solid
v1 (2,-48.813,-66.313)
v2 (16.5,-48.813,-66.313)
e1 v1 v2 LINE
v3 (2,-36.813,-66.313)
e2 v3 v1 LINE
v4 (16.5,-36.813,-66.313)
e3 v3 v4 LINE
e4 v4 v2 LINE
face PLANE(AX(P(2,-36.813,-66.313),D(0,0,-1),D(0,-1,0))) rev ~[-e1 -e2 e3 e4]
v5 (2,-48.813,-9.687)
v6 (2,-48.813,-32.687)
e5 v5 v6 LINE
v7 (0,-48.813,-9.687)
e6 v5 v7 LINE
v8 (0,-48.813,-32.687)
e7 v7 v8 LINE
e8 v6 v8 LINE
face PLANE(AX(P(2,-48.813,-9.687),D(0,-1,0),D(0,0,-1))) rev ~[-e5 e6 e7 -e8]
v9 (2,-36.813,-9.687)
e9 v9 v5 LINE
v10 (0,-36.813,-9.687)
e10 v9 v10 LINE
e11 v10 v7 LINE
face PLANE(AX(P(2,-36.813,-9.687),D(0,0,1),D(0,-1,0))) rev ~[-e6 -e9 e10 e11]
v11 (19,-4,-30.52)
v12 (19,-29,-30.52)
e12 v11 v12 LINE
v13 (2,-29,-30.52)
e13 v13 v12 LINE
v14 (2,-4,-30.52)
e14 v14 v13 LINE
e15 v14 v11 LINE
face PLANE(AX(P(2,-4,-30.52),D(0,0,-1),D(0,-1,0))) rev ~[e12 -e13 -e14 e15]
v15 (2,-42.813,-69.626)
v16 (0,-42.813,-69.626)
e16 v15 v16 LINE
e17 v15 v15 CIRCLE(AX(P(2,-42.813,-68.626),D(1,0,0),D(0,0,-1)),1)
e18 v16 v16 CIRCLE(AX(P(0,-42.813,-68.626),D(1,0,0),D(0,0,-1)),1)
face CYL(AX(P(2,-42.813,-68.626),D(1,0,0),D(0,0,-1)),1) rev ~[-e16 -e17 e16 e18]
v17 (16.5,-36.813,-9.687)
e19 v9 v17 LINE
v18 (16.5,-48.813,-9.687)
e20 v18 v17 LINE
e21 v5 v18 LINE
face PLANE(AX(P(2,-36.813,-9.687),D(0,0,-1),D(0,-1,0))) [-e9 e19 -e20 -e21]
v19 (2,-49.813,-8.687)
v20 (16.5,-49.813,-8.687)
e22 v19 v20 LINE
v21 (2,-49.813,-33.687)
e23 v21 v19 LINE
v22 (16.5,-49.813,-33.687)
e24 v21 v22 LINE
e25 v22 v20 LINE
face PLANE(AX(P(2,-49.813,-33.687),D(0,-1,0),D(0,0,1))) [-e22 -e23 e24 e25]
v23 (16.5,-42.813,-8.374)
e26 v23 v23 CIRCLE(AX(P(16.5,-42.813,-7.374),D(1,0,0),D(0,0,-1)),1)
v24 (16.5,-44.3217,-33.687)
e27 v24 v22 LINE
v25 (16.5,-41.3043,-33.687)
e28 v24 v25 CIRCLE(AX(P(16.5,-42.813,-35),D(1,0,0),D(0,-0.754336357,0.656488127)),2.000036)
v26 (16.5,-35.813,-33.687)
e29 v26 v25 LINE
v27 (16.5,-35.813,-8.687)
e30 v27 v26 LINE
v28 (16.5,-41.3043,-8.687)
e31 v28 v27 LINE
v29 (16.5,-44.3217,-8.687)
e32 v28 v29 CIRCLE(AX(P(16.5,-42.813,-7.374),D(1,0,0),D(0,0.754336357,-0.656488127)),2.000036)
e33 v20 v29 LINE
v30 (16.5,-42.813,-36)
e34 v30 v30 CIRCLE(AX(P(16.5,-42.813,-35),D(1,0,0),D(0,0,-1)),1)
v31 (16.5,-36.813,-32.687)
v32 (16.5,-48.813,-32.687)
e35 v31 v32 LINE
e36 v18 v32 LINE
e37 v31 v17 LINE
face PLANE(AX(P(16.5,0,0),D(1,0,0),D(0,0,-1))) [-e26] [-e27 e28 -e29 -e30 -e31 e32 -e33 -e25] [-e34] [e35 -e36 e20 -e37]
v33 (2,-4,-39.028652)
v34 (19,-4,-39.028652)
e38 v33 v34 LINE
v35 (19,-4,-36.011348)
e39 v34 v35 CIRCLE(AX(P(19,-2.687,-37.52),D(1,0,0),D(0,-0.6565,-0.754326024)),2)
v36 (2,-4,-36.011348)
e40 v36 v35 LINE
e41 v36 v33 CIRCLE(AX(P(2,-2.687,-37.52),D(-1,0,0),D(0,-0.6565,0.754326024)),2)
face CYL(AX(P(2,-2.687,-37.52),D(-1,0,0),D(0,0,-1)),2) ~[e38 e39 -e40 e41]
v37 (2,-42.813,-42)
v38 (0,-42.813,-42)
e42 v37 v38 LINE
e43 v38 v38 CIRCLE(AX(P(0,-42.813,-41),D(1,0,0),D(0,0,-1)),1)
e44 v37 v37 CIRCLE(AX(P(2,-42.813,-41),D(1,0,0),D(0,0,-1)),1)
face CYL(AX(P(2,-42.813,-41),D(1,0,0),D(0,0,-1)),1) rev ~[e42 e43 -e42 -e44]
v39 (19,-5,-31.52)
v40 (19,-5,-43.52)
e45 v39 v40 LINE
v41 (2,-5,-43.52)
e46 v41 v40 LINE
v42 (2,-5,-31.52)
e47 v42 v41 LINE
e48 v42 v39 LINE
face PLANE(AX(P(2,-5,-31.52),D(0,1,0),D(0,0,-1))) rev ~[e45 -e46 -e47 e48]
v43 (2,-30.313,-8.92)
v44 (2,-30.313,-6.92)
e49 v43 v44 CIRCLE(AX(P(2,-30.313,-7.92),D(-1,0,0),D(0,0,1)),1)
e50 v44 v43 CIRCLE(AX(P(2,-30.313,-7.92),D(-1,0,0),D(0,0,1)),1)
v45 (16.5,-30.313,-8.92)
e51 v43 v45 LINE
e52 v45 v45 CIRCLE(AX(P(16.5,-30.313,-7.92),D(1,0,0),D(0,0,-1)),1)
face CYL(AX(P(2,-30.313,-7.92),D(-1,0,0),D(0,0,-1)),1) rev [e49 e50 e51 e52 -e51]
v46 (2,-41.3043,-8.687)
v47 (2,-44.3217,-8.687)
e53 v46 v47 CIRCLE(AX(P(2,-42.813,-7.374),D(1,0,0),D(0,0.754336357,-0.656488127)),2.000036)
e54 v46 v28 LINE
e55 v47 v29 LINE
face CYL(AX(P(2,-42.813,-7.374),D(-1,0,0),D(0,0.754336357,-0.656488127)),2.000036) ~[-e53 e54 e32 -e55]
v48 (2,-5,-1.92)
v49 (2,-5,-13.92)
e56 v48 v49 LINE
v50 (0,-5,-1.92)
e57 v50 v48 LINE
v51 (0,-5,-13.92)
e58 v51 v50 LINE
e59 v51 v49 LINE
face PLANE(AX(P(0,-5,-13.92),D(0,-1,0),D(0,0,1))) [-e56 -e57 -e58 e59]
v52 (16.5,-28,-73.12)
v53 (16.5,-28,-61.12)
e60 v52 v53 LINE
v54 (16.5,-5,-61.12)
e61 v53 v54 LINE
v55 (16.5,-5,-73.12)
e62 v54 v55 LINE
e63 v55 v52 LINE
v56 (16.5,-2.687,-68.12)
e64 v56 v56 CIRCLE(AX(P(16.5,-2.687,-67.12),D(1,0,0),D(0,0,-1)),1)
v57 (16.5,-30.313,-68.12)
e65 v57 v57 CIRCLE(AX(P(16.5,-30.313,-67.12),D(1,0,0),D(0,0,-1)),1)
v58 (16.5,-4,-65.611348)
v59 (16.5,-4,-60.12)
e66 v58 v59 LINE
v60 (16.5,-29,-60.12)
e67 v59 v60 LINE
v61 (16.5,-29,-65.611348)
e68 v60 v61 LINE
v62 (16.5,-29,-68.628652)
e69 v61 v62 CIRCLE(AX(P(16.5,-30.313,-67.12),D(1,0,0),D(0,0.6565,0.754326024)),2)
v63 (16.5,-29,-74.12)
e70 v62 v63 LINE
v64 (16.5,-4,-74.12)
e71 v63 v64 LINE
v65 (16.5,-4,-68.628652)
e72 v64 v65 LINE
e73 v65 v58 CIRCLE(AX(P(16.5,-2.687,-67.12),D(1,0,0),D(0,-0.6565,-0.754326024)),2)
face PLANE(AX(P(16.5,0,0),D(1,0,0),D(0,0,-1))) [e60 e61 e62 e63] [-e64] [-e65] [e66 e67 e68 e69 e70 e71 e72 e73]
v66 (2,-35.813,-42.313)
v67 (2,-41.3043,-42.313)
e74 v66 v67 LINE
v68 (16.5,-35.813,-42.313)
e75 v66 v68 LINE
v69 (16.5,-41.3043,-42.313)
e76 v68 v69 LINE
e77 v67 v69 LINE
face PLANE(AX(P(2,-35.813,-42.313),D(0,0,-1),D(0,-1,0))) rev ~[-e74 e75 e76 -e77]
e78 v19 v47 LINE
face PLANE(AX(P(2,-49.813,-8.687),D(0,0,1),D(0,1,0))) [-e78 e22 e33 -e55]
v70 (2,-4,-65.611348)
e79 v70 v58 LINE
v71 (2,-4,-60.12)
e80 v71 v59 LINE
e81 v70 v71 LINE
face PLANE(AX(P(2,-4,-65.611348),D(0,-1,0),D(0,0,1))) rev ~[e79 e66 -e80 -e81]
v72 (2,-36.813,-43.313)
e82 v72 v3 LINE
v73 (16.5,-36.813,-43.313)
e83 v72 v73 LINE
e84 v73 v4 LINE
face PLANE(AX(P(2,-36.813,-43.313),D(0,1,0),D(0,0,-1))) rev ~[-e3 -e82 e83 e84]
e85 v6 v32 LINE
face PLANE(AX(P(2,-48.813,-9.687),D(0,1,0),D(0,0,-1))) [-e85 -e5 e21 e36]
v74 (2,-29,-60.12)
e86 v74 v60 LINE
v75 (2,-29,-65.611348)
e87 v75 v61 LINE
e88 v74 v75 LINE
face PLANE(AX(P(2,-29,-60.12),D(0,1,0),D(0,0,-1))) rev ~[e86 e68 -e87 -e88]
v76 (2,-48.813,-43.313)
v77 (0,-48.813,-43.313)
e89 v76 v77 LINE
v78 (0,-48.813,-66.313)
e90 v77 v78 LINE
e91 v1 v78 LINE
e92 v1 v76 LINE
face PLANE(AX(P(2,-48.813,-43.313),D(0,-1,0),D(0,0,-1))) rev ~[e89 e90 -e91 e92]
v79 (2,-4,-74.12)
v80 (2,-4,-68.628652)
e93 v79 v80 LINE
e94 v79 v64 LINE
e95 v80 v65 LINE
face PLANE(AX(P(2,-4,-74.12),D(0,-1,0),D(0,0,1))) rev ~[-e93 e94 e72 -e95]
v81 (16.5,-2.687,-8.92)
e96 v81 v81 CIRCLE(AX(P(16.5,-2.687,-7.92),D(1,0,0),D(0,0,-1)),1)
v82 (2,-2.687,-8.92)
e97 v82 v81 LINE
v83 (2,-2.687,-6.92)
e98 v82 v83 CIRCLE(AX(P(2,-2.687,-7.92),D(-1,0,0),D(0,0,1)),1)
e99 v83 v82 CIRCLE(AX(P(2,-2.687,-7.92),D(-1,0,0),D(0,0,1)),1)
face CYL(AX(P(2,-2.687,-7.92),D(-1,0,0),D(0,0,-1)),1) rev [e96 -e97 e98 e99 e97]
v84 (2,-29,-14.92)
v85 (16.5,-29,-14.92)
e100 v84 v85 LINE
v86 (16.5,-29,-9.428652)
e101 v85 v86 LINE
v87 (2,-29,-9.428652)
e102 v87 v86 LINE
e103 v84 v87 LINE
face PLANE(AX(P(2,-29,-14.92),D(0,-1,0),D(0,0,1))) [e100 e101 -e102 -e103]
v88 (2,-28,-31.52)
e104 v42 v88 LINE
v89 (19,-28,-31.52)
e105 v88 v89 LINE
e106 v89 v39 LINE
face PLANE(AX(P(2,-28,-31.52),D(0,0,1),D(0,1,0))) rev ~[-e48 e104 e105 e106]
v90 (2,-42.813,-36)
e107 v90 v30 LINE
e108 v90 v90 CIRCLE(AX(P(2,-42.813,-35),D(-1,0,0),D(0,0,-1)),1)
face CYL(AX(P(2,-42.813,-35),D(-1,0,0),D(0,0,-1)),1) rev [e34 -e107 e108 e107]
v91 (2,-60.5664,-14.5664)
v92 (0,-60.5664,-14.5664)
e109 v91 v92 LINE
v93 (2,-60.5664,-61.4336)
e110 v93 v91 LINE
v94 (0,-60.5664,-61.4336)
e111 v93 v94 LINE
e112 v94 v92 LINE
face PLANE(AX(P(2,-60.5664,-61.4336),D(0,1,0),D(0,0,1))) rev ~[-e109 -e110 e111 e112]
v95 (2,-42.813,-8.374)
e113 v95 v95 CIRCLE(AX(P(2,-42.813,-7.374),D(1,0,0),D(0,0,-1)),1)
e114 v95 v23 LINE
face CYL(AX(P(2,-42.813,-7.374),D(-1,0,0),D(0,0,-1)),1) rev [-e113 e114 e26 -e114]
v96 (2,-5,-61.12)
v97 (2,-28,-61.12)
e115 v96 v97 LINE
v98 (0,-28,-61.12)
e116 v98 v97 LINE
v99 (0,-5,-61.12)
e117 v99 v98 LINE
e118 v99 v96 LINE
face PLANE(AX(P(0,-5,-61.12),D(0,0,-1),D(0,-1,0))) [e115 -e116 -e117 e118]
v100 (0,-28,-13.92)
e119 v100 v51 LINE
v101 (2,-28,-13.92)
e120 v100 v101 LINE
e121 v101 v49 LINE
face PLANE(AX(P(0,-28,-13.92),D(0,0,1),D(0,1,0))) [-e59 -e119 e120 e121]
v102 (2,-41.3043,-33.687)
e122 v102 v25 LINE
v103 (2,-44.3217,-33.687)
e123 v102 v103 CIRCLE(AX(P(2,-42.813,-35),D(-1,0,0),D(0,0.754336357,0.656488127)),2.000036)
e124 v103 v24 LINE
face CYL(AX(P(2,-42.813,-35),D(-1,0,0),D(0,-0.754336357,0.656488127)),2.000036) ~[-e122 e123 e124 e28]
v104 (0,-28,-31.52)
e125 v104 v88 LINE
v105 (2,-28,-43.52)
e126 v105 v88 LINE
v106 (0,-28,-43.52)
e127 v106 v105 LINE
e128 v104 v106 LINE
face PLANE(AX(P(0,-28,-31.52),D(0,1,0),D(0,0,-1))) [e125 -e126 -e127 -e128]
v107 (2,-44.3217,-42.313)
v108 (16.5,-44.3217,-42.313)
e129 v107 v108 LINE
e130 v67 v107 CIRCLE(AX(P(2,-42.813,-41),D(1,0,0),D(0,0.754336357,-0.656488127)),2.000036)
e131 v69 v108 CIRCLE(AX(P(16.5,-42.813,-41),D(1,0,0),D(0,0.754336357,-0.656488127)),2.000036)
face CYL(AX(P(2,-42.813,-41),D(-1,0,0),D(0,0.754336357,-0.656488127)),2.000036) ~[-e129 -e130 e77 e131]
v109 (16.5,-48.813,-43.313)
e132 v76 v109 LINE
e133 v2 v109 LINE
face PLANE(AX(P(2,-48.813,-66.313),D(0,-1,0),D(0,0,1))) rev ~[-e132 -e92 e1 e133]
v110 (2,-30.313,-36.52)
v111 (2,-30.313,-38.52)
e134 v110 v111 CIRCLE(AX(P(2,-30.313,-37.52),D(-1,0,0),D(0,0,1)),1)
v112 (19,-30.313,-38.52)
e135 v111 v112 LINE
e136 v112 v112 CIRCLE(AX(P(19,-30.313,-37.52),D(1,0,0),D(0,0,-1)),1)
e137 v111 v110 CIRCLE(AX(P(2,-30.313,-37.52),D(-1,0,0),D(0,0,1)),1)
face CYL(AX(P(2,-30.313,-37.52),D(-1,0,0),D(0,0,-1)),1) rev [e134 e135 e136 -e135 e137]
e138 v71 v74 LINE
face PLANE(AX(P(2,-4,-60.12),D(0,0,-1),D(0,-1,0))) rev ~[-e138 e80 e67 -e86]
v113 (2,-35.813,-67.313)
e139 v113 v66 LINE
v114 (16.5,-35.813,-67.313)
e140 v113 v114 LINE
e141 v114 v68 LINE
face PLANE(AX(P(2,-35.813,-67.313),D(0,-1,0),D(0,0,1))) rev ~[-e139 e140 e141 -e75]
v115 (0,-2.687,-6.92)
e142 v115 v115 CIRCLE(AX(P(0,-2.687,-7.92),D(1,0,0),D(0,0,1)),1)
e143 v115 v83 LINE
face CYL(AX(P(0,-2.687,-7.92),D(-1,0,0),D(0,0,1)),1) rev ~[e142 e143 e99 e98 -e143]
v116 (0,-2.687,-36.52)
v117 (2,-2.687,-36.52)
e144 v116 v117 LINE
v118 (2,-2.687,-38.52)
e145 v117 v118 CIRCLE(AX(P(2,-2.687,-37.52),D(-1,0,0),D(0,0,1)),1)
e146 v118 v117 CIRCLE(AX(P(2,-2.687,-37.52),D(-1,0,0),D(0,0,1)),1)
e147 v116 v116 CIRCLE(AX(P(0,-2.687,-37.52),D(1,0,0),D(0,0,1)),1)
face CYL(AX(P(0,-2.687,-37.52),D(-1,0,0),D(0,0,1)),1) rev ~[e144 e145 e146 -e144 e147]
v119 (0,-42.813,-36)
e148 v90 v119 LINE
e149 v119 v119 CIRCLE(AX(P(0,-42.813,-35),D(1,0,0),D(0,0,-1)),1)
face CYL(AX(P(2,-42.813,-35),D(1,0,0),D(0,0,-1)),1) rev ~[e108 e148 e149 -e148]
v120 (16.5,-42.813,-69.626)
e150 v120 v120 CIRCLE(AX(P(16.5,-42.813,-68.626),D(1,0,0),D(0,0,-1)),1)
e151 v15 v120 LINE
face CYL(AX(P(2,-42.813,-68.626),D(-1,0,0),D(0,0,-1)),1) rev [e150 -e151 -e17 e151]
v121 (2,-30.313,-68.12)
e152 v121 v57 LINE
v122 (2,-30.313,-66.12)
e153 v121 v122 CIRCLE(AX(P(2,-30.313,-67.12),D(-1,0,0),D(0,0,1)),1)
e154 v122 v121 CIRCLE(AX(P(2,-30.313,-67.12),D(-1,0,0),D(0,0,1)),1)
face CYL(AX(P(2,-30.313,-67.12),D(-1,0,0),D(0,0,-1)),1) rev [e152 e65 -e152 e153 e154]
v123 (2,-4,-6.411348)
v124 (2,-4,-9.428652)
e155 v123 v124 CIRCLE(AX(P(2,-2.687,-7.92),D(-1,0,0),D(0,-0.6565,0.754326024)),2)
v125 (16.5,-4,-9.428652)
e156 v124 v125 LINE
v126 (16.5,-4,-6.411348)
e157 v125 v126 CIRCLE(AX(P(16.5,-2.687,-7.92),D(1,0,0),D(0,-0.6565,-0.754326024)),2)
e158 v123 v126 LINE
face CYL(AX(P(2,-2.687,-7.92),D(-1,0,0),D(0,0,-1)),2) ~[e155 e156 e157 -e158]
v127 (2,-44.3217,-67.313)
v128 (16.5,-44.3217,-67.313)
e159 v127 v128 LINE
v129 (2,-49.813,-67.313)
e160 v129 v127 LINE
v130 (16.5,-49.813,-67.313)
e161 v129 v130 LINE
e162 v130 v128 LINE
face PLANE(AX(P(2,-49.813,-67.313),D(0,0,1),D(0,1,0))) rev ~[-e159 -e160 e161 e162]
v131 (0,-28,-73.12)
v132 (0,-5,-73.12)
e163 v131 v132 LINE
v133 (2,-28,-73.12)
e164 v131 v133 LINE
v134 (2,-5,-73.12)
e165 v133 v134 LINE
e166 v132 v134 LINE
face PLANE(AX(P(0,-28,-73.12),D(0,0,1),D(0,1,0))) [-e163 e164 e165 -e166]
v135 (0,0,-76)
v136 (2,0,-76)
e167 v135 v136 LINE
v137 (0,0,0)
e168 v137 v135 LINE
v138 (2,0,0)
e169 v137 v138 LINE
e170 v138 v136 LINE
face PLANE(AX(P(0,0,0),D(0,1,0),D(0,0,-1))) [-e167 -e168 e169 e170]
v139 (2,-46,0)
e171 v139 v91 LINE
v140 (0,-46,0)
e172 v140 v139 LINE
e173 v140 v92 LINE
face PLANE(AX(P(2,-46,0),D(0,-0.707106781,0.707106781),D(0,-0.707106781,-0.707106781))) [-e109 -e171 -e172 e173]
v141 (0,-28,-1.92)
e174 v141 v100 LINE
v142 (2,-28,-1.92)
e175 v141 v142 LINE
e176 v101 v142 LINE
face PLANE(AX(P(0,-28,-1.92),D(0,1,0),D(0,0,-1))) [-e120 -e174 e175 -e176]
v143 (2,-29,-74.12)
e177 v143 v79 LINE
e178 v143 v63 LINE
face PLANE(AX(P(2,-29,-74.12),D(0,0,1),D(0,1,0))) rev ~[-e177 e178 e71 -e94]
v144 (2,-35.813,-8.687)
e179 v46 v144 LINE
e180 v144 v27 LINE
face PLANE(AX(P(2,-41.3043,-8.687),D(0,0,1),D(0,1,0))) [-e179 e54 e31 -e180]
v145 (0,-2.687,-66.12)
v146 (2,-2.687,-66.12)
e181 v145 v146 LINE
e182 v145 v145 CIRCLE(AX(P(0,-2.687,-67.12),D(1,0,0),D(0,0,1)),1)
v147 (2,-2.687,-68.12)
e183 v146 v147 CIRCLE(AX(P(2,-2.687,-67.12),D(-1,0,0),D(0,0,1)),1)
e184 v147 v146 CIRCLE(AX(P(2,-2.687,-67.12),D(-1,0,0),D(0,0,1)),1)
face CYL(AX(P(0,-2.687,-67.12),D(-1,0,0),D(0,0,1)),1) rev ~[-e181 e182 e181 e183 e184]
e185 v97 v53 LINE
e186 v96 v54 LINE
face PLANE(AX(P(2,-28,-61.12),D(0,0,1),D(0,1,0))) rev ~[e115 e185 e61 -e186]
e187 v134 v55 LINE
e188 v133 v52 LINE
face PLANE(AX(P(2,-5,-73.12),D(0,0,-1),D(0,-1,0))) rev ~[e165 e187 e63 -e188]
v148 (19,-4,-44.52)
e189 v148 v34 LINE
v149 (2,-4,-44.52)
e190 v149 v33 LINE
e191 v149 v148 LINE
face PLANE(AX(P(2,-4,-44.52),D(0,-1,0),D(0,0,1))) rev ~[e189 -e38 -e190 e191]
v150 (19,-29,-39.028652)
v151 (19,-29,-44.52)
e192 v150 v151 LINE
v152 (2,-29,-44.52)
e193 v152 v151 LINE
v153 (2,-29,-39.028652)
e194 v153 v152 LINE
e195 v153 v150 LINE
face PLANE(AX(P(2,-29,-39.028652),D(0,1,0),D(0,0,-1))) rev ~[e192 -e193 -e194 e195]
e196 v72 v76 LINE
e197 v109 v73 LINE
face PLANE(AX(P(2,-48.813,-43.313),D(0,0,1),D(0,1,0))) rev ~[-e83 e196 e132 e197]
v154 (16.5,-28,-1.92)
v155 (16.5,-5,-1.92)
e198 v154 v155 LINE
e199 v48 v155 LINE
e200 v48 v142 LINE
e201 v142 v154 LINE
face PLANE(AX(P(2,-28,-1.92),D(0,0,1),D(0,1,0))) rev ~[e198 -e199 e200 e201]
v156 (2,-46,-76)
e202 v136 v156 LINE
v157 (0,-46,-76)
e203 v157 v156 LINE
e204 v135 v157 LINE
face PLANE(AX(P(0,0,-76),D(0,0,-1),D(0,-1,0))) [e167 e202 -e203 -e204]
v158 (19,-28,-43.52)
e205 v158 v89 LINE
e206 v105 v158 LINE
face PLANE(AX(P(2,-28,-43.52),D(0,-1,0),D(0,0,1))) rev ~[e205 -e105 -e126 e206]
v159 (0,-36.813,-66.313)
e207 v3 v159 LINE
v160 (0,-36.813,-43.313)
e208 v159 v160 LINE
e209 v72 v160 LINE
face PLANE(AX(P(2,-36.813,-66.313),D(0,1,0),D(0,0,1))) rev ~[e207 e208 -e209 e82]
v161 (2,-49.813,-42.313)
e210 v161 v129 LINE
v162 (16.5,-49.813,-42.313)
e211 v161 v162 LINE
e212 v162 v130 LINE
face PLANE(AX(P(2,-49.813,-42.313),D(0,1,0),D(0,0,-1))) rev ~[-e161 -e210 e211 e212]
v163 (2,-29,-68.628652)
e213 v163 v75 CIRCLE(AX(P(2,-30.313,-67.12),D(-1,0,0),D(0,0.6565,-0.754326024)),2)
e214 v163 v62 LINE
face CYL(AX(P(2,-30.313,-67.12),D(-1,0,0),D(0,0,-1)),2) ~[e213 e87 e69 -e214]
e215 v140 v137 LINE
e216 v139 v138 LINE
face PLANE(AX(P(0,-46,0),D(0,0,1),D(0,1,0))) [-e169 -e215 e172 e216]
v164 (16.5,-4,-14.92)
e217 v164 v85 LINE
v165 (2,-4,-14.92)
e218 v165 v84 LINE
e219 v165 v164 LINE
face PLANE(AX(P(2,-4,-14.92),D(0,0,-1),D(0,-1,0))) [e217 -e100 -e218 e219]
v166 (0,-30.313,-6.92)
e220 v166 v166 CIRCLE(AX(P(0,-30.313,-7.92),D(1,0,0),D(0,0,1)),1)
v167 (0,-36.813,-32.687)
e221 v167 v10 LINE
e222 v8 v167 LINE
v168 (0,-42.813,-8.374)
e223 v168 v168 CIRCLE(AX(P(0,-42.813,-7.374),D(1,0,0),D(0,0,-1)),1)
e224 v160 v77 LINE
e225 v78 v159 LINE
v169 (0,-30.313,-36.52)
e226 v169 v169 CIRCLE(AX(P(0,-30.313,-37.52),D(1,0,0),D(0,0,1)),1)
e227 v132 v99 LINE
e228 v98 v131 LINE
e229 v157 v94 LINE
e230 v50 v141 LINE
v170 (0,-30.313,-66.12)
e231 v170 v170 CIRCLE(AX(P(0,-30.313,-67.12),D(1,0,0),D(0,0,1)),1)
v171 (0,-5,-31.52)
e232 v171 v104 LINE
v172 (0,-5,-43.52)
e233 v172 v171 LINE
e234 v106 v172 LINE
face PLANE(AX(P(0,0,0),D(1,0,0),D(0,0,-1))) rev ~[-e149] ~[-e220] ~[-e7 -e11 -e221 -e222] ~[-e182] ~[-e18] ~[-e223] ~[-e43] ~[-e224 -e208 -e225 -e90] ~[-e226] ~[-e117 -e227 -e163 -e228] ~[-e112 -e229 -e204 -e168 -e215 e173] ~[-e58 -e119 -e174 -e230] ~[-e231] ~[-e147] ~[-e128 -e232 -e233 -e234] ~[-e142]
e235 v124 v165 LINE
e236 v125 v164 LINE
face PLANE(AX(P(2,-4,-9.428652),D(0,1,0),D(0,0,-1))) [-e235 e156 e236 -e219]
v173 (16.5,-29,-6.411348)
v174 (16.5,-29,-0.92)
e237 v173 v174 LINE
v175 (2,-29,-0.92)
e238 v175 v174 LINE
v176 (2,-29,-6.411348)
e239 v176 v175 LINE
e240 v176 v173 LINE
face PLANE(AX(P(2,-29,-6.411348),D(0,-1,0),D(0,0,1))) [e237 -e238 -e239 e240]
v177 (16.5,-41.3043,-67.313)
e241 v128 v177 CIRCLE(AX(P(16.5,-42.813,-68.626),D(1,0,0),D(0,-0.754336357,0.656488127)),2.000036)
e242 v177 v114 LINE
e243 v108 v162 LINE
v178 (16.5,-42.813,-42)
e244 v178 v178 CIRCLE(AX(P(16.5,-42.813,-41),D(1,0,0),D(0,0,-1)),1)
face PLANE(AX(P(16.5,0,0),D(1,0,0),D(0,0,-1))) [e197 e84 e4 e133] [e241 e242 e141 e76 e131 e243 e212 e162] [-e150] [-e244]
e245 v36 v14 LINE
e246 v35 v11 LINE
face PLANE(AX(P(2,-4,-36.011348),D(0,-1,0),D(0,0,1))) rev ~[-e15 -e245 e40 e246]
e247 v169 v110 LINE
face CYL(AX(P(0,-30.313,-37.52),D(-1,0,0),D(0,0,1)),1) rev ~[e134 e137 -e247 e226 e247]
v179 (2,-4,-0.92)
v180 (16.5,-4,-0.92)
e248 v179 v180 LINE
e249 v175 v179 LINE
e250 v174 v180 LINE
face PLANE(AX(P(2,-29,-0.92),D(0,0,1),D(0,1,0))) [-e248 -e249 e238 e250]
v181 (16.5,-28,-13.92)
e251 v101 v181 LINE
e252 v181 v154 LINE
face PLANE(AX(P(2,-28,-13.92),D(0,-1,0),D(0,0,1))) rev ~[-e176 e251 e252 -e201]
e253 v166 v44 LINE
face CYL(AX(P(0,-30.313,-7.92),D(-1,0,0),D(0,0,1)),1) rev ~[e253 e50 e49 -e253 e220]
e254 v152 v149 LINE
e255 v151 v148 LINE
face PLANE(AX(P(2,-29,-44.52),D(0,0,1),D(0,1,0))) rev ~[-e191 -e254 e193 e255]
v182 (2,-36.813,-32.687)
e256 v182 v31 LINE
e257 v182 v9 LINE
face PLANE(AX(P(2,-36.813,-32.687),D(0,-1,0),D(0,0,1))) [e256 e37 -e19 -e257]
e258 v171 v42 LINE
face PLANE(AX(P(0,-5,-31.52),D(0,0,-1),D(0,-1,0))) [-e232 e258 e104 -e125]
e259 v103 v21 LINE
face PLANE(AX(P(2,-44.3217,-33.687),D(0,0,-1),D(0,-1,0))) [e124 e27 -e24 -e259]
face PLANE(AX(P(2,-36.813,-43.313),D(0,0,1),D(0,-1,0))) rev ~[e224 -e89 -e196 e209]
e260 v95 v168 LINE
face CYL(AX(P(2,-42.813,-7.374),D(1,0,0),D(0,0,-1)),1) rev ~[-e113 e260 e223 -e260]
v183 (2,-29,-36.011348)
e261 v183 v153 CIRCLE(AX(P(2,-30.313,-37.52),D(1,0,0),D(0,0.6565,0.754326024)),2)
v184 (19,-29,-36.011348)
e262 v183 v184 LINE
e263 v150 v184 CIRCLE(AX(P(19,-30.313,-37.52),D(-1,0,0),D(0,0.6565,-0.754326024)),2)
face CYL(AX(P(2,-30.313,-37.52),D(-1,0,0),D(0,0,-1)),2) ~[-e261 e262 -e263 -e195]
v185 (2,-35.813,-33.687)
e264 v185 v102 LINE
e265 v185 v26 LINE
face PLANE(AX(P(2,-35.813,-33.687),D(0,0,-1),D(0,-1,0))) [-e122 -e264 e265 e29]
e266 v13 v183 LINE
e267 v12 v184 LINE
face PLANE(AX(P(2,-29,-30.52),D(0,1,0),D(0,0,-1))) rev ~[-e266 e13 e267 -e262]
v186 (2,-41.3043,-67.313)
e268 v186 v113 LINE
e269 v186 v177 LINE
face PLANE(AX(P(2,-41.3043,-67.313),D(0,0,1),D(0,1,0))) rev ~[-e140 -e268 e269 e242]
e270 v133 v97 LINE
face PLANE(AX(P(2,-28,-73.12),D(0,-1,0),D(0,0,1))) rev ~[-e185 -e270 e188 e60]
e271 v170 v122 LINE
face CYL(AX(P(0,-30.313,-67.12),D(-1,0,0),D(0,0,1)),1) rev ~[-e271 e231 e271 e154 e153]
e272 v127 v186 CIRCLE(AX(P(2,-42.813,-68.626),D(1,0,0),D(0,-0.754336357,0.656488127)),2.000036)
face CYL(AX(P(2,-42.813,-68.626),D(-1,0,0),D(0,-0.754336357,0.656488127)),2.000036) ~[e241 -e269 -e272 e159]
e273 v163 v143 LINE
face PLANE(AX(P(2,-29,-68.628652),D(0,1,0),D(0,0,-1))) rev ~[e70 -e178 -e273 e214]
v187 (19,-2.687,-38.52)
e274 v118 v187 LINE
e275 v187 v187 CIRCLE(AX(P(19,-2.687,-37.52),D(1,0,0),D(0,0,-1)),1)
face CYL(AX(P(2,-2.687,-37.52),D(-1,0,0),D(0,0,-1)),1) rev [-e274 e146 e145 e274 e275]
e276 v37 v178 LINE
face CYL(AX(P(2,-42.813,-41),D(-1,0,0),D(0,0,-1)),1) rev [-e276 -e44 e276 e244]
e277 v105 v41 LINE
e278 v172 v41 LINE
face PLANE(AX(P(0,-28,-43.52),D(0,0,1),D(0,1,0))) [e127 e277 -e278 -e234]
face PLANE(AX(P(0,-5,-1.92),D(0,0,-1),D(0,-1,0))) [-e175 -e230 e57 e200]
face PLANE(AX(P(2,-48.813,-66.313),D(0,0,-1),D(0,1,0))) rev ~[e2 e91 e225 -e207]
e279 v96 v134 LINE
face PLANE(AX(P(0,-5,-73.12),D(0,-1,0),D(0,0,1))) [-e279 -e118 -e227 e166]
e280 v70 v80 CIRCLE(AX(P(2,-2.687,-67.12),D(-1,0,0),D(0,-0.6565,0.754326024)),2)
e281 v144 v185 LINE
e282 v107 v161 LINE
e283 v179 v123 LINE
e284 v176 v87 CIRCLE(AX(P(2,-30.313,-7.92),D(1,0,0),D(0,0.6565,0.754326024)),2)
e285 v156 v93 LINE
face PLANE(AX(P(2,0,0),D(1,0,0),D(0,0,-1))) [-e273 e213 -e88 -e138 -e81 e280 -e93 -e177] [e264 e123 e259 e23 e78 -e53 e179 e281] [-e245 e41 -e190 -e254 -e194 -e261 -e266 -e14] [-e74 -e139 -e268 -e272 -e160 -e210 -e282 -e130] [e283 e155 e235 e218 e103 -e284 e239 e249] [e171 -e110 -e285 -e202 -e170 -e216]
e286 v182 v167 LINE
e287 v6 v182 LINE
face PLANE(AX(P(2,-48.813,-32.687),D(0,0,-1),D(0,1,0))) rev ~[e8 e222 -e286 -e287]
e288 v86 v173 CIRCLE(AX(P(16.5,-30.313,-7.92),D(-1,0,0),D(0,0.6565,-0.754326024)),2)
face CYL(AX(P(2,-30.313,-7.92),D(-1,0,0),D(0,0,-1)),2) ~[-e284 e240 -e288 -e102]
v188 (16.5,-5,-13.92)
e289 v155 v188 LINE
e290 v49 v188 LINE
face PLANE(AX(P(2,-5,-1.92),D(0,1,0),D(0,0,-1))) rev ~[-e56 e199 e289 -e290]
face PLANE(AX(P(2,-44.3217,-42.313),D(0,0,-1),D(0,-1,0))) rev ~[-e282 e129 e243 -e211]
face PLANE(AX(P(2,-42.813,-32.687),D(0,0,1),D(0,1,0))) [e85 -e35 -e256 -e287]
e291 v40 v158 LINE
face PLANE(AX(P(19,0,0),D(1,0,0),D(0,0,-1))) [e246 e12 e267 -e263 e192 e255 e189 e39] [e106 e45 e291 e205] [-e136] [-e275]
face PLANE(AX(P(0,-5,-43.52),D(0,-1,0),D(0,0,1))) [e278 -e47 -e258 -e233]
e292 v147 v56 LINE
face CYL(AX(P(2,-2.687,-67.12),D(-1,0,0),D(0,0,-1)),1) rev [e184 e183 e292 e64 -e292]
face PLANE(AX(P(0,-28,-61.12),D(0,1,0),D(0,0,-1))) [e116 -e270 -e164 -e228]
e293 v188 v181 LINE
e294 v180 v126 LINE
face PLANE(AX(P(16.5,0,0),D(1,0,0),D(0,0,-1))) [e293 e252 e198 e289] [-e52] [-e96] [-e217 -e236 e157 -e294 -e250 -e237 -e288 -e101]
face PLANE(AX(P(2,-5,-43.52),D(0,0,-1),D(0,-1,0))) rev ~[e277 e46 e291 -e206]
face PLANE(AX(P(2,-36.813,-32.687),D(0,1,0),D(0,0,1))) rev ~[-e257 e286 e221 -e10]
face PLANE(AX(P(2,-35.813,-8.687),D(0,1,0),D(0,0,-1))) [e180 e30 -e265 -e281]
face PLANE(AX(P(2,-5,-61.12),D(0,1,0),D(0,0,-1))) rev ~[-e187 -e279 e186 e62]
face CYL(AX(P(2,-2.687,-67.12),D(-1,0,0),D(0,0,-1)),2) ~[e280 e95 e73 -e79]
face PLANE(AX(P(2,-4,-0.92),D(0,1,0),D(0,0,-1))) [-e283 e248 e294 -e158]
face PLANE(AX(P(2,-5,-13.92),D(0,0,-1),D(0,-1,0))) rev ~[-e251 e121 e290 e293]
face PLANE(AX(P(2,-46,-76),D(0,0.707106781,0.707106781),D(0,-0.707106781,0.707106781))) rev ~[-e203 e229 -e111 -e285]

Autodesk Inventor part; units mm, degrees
ref_plane "YZ Plane" through (0, 0, 0) normal (1, 0, 0) x (0, 1, 0)
ref_plane "XZ Plane" through (0, 0, 0) normal (0, 1, 0) x (-1, 0, 0)
ref_plane "XY Plane" through (0, 0, 0) normal (0, 0, 1) x (1, 0, 0)
sketch "Sketch1" plane through (0, 0, 0) normal (1, 0, 0) x (0, 1, 0)
  line L0 (0, 0) -> (0, -76)
  line L1 (0, 0) -> (76, 0) construction
  line L2 (0, -76) -> (-46, -76)
  line L3 (-46, -76) -> (-46, 0)
  line L4 (-46, 0) -> (0, 0)
  dimension "d0" = 76
  dimension "d1" = 90
  dimension "d2" = 46
extrude "Extrusion1" add sketch "Sketch1" along normal blind 2
sketch "Sketch2" plane through (0, 0, 0) normal (-1, 0, 0) x (0, 0, 1)
  line L0 (-76, -46) -> (-76, 0) projected
  line L1 (-76, 0) -> (-73.12, 0)
  line L2 (-76, 0) -> (0, 0) projected
  line L3 (-73.12, 0) -> (-73.12, -5)
  line L4 (-73.12, -5) -> (-61.12, -5)
  line L5 (-61.12, -5) -> (-61.12, -28)
  line L6 (-61.12, -28) -> (-73.12, -28)
  line L7 (-73.12, -28) -> (-73.12, -5)
  line L8 (-73.12, -5) -> (-37.52, -5)
  line L9 (-37.52, -5) -> (-1.92, -5)
  line L10 (-1.92, -5) -> (-1.92, -28)
  line L11 (-1.92, -28) -> (-13.92, -28)
  line L12 (-13.92, -28) -> (-13.92, -5)
  line L13 (-37.52, -5) -> (-31.52, -5)
  line L14 (-31.52, -5) -> (-31.52, -28)
  line L15 (-31.52, -28) -> (-43.52, -28)
  line L16 (-43.52, -28) -> (-43.52, -5)
  line L17 (-67.12, -28) -> (-67.12, -30.313)
  line L18 (-67.12, -5) -> (-67.12, -2.687)
  circle A0 centre (-67.12, -2.687) radius 1
  circle A1 centre (-67.12, -30.313) radius 1
  line L19 (-37.52, -28) -> (-37.52, -30.313)
  line L20 (-37.52, -5) -> (-37.52, -2.687)
  line L21 (-7.92, -5) -> (-7.92, -2.687)
  line L22 (-7.92, -28) -> (-7.92, -30.313)
  circle A2 centre (-37.52, -2.687) radius 1
  circle A3 centre (-7.92, -2.687) radius 1
  circle A4 centre (-37.52, -30.313) radius 1
  circle A5 centre (-7.92, -30.313) radius 1
  dimension "d5" = 2.88
  dimension "d6" = 5
  dimension "d7" = 12
  dimension "d8" = 23
  dimension "d9" = 12
  dimension "d10" = 35.6
  dimension "d14" = 35.6
  dimension "d15" = 23
  dimension "d16" = 12
  dimension "d17" = 6
  dimension "d18" = 23
  dimension "d19" = 12
  dimension "d24" = 2.313
  dimension "d25" = 2.313
  dimension "d26" = 2
  dimension "d27" = 2
  dimension "d28" = 2
  dimension "d29" = 2
  dimension "d30" = 2
  dimension "d31" = 2
extrude "Extrusion2" cut sketch "Sketch2" against normal up to surface (2 mm away)
sketch "Sketch11" plane through (2, 0, 0) normal (1, 0, 0) x (0, 0, -1)
  line L0 (0, -46) -> (76, -46) projected
  line L1 (0, -46) -> (14.5664, -60.5664)
  line L2 (0, -46) -> (20.6, -46) construction
  line L3 (76, -46) -> (61.4336, -60.5664)
  line L4 (76, -46) -> (96.6, -46) construction
  line L5 (61.4336, -60.5664) -> (14.5664, -60.5664)
  point P0 (0, 0)
  dimension "d94" = 20.6
  dimension "d95" = 45
  dimension "d96" = 20.6
  dimension "d97" = 135
extrude "Extrusion9" add sketch "Sketch11" against normal up to surface (2 mm away)
sketch "Sketch14" plane through (2, 0, 0) normal (1, 0, 0) x (0, 0, -1)
  line L0 (1.92, -5) -> (13.92, -5) projected
  line L1 (1.92, -28) -> (1.92, -5) projected
  line L2 (13.92, -28) -> (1.92, -28) projected
  circle A0 centre (7.92, -30.313) radius 1 projected
  line L3 (13.92, -5) -> (13.92, -28) projected
  circle A1 centre (7.92, -2.687) radius 1 projected
  line L4 (14.92, -29) -> (0.92, -29)
  line L5 (0.92, -29) -> (0.92, -4)
  line L6 (0.92, -4) -> (14.92, -4)
  line L7 (14.92, -4) -> (14.92, -29)
  circle A2 centre (7.92, -2.687) radius 2
  circle A3 centre (7.92, -30.313) radius 2
  point P0 (0, 0)
  point P1 (9.4287, -4)
  point P2 (6.4113, -4)
  point P3 (6.4113, -29)
  point P4 (9.4287, -29)
  dimension "d112" = 1
  dimension "d113" = 1
  dimension "d114" = 1
extrude "Extrusion12" add sketch "Sketch14" along normal blind 14.5
sketch "Sketch15" plane through (2, 0, 0) normal (1, 0, 0) x (0, 0, -1)
  line L0 (31.52, -5) -> (43.52, -5) projected
  line L1 (43.52, -5) -> (43.52, -28) projected
  line L2 (31.52, -28) -> (31.52, -5) projected
  line L3 (43.52, -28) -> (31.52, -28) projected
  circle A0 centre (37.52, -30.313) radius 1 projected
  circle A1 centre (37.52, -2.687) radius 1 projected
  line L4 (44.52, -29) -> (44.52, -4)
  line L5 (44.52, -4) -> (30.52, -4)
  line L6 (30.52, -4) -> (30.52, -29)
  line L7 (30.52, -29) -> (44.52, -29)
  circle A2 centre (37.52, -2.687) radius 2
  circle A3 centre (37.52, -30.313) radius 2
  point P0 (0, 0)
  point P1 (39.0287, -4)
  point P2 (36.0113, -4)
  point P3 (36.0113, -29)
  point P4 (39.0287, -29)
  dimension "d117" = 1
  dimension "d118" = 1
  dimension "d119" = 1
extrude "Extrusion13" add sketch "Sketch15" along normal blind 17
sketch "Sketch16" plane through (2, 0, 0) normal (1, 0, 0) x (0, 0, -1)
  line L0 (61.12, -5) -> (73.12, -5) projected
  line L1 (73.12, -5) -> (73.12, -28) projected
  line L2 (61.12, -28) -> (61.12, -5) projected
  line L3 (73.12, -28) -> (61.12, -28) projected
  circle A0 centre (67.12, -30.313) radius 1 projected
  circle A1 centre (67.12, -2.687) radius 1 projected
  line L4 (74.12, -4) -> (60.12, -4)
  line L5 (60.12, -4) -> (60.12, -29)
  line L6 (60.12, -29) -> (74.12, -29)
  line L7 (74.12, -29) -> (74.12, -4)
  circle A2 centre (67.12, -2.687) radius 2
  circle A3 centre (67.12, -30.313) radius 2
  point P0 (0, 0)
  point P1 (65.6113, -29)
  point P2 (68.6287, -29)
  point P3 (68.6287, -4)
  point P4 (65.6113, -4)
  dimension "d134" = 90
  dimension "d136" = 0
  dimension "d122" = 1
  dimension "d123" = 1
  dimension "d124" = 1
extrude "Extrusion14" add sketch "Sketch16" along normal blind 14.5
sketch "Sketch17" plane through (2, 0, 0) normal (1, 0, 0) x (0, 0, -1)
  line L0 (76, 0) -> (0, 0) projected
  line L1 (38, 0) -> (38, -60.5664)
  line L2 (14.5664, -60.5664) -> (61.4336, -60.5664) projected
  line L3 (38, -42.813) -> (35, -42.813)
  circle A0 centre (35, -42.813) radius 1
  arc A1 (33.687, -44.3217) -> (33.687, -41.3043) centre (35, -42.813) ccw
  line L4 (35, -42.813) -> (32.687, -42.813)
  line L5 (32.687, -42.813) -> (32.687, -36.813)
  line L6 (32.687, -36.813) -> (9.687, -36.813)
  line L7 (9.687, -36.813) -> (9.687, -48.813)
  line L8 (9.687, -48.813) -> (32.687, -48.813)
  line L9 (9.687, -48.813) -> (32.687, -48.813) construction
  line L10 (32.687, -48.813) -> (32.687, -42.813)
  line L11 (9.687, -42.813) -> (7.374, -42.813)
  circle A2 centre (7.374, -42.813) radius 1
  arc A3 (8.687, -41.3043) -> (8.687, -44.3217) centre (7.374, -42.813) ccw
  line L12 (8.687, -35.813) -> (33.687, -35.813)
  line L13 (33.687, -35.813) -> (33.687, -42.813)
  line L14 (33.687, -42.813) -> (33.687, -49.813)
  line L15 (33.687, -49.813) -> (8.687, -49.813)
  line L16 (8.687, -49.813) -> (8.687, -35.813)
  circle A4 centre (41, -42.813) radius 1
  arc A5 (42.313, -41.3043) -> (42.313, -44.3217) centre (41, -42.813) ccw
  line L17 (43.313, -42.813) -> (43.313, -36.813)
  line L18 (43.313, -36.813) -> (66.313, -36.813)
  line L19 (66.313, -36.813) -> (66.313, -48.813)
  line L20 (66.313, -48.813) -> (43.313, -48.813)
  line L21 (43.313, -48.813) -> (43.313, -42.813)
  circle A6 centre (68.626, -42.813) radius 1
  arc A7 (67.313, -44.3217) -> (67.313, -41.3043) centre (68.626, -42.813) ccw
  line L22 (67.313, -35.813) -> (42.313, -35.813)
  line L23 (42.313, -35.813) -> (42.313, -42.813)
  line L24 (42.313, -42.813) -> (42.313, -49.813)
  line L25 (42.313, -49.813) -> (67.313, -49.813)
  line L26 (67.313, -49.813) -> (67.313, -35.813)
  dimension "d127" = 3
  dimension "d128" = 2
  dimension "d129" = 1
  dimension "d130" = 2.313
  dimension "d131" = 6
  dimension "d132" = 23
  dimension "d133" = 12
  dimension "d134" = 90
  dimension "d135" = 23
  dimension "d136" = 0
  dimension "d137" = 2.313
  dimension "d138" = 2
  dimension "d139" = 1
  dimension "d140" = 1
extrude "Extrusion15" add sketch "Sketch17" along normal blind 14.5 contours A0 L4 L13 A1 L3 | L3 A1 L14 L4 A0 | L14 L15 L16 L11 L7 L8 L10 L4 | L13 L4 L5 L6 L7 L11 L16 L12 | A3 L16 | L23 L24 A5 | L23 L22 L26 L25 L24 | A7 L26
sketch "Sketch18" plane through (2, 0, 0) normal (1, 0, 0) x (0, 0, -1)
  line L0 (9.687, -48.813) -> (32.687, -48.813) projected
  line L1 (32.687, -48.813) -> (32.687, -36.813) projected
  line L2 (32.687, -36.813) -> (9.687, -36.813) projected
  line L3 (9.687, -36.813) -> (9.687, -48.813) projected
  line L4 (43.313, -36.813) -> (43.313, -48.813) projected
  line L5 (43.313, -48.813) -> (66.313, -48.813) projected
  line L6 (66.313, -48.813) -> (66.313, -36.813) projected
  line L7 (66.313, -36.813) -> (43.313, -36.813) projected
  circle A0 centre (35, -42.813) radius 1 projected
  circle A1 centre (7.374, -42.813) radius 1 projected
  circle A2 centre (41, -42.813) radius 1 projected
  circle A3 centre (68.626, -42.813) radius 1 projected
  point P0 (0, 0)
extrude "Extrusion16" cut sketch "Sketch18" against normal up to surface (2 mm away)
properties part number "Palm_ServoAttachment"
